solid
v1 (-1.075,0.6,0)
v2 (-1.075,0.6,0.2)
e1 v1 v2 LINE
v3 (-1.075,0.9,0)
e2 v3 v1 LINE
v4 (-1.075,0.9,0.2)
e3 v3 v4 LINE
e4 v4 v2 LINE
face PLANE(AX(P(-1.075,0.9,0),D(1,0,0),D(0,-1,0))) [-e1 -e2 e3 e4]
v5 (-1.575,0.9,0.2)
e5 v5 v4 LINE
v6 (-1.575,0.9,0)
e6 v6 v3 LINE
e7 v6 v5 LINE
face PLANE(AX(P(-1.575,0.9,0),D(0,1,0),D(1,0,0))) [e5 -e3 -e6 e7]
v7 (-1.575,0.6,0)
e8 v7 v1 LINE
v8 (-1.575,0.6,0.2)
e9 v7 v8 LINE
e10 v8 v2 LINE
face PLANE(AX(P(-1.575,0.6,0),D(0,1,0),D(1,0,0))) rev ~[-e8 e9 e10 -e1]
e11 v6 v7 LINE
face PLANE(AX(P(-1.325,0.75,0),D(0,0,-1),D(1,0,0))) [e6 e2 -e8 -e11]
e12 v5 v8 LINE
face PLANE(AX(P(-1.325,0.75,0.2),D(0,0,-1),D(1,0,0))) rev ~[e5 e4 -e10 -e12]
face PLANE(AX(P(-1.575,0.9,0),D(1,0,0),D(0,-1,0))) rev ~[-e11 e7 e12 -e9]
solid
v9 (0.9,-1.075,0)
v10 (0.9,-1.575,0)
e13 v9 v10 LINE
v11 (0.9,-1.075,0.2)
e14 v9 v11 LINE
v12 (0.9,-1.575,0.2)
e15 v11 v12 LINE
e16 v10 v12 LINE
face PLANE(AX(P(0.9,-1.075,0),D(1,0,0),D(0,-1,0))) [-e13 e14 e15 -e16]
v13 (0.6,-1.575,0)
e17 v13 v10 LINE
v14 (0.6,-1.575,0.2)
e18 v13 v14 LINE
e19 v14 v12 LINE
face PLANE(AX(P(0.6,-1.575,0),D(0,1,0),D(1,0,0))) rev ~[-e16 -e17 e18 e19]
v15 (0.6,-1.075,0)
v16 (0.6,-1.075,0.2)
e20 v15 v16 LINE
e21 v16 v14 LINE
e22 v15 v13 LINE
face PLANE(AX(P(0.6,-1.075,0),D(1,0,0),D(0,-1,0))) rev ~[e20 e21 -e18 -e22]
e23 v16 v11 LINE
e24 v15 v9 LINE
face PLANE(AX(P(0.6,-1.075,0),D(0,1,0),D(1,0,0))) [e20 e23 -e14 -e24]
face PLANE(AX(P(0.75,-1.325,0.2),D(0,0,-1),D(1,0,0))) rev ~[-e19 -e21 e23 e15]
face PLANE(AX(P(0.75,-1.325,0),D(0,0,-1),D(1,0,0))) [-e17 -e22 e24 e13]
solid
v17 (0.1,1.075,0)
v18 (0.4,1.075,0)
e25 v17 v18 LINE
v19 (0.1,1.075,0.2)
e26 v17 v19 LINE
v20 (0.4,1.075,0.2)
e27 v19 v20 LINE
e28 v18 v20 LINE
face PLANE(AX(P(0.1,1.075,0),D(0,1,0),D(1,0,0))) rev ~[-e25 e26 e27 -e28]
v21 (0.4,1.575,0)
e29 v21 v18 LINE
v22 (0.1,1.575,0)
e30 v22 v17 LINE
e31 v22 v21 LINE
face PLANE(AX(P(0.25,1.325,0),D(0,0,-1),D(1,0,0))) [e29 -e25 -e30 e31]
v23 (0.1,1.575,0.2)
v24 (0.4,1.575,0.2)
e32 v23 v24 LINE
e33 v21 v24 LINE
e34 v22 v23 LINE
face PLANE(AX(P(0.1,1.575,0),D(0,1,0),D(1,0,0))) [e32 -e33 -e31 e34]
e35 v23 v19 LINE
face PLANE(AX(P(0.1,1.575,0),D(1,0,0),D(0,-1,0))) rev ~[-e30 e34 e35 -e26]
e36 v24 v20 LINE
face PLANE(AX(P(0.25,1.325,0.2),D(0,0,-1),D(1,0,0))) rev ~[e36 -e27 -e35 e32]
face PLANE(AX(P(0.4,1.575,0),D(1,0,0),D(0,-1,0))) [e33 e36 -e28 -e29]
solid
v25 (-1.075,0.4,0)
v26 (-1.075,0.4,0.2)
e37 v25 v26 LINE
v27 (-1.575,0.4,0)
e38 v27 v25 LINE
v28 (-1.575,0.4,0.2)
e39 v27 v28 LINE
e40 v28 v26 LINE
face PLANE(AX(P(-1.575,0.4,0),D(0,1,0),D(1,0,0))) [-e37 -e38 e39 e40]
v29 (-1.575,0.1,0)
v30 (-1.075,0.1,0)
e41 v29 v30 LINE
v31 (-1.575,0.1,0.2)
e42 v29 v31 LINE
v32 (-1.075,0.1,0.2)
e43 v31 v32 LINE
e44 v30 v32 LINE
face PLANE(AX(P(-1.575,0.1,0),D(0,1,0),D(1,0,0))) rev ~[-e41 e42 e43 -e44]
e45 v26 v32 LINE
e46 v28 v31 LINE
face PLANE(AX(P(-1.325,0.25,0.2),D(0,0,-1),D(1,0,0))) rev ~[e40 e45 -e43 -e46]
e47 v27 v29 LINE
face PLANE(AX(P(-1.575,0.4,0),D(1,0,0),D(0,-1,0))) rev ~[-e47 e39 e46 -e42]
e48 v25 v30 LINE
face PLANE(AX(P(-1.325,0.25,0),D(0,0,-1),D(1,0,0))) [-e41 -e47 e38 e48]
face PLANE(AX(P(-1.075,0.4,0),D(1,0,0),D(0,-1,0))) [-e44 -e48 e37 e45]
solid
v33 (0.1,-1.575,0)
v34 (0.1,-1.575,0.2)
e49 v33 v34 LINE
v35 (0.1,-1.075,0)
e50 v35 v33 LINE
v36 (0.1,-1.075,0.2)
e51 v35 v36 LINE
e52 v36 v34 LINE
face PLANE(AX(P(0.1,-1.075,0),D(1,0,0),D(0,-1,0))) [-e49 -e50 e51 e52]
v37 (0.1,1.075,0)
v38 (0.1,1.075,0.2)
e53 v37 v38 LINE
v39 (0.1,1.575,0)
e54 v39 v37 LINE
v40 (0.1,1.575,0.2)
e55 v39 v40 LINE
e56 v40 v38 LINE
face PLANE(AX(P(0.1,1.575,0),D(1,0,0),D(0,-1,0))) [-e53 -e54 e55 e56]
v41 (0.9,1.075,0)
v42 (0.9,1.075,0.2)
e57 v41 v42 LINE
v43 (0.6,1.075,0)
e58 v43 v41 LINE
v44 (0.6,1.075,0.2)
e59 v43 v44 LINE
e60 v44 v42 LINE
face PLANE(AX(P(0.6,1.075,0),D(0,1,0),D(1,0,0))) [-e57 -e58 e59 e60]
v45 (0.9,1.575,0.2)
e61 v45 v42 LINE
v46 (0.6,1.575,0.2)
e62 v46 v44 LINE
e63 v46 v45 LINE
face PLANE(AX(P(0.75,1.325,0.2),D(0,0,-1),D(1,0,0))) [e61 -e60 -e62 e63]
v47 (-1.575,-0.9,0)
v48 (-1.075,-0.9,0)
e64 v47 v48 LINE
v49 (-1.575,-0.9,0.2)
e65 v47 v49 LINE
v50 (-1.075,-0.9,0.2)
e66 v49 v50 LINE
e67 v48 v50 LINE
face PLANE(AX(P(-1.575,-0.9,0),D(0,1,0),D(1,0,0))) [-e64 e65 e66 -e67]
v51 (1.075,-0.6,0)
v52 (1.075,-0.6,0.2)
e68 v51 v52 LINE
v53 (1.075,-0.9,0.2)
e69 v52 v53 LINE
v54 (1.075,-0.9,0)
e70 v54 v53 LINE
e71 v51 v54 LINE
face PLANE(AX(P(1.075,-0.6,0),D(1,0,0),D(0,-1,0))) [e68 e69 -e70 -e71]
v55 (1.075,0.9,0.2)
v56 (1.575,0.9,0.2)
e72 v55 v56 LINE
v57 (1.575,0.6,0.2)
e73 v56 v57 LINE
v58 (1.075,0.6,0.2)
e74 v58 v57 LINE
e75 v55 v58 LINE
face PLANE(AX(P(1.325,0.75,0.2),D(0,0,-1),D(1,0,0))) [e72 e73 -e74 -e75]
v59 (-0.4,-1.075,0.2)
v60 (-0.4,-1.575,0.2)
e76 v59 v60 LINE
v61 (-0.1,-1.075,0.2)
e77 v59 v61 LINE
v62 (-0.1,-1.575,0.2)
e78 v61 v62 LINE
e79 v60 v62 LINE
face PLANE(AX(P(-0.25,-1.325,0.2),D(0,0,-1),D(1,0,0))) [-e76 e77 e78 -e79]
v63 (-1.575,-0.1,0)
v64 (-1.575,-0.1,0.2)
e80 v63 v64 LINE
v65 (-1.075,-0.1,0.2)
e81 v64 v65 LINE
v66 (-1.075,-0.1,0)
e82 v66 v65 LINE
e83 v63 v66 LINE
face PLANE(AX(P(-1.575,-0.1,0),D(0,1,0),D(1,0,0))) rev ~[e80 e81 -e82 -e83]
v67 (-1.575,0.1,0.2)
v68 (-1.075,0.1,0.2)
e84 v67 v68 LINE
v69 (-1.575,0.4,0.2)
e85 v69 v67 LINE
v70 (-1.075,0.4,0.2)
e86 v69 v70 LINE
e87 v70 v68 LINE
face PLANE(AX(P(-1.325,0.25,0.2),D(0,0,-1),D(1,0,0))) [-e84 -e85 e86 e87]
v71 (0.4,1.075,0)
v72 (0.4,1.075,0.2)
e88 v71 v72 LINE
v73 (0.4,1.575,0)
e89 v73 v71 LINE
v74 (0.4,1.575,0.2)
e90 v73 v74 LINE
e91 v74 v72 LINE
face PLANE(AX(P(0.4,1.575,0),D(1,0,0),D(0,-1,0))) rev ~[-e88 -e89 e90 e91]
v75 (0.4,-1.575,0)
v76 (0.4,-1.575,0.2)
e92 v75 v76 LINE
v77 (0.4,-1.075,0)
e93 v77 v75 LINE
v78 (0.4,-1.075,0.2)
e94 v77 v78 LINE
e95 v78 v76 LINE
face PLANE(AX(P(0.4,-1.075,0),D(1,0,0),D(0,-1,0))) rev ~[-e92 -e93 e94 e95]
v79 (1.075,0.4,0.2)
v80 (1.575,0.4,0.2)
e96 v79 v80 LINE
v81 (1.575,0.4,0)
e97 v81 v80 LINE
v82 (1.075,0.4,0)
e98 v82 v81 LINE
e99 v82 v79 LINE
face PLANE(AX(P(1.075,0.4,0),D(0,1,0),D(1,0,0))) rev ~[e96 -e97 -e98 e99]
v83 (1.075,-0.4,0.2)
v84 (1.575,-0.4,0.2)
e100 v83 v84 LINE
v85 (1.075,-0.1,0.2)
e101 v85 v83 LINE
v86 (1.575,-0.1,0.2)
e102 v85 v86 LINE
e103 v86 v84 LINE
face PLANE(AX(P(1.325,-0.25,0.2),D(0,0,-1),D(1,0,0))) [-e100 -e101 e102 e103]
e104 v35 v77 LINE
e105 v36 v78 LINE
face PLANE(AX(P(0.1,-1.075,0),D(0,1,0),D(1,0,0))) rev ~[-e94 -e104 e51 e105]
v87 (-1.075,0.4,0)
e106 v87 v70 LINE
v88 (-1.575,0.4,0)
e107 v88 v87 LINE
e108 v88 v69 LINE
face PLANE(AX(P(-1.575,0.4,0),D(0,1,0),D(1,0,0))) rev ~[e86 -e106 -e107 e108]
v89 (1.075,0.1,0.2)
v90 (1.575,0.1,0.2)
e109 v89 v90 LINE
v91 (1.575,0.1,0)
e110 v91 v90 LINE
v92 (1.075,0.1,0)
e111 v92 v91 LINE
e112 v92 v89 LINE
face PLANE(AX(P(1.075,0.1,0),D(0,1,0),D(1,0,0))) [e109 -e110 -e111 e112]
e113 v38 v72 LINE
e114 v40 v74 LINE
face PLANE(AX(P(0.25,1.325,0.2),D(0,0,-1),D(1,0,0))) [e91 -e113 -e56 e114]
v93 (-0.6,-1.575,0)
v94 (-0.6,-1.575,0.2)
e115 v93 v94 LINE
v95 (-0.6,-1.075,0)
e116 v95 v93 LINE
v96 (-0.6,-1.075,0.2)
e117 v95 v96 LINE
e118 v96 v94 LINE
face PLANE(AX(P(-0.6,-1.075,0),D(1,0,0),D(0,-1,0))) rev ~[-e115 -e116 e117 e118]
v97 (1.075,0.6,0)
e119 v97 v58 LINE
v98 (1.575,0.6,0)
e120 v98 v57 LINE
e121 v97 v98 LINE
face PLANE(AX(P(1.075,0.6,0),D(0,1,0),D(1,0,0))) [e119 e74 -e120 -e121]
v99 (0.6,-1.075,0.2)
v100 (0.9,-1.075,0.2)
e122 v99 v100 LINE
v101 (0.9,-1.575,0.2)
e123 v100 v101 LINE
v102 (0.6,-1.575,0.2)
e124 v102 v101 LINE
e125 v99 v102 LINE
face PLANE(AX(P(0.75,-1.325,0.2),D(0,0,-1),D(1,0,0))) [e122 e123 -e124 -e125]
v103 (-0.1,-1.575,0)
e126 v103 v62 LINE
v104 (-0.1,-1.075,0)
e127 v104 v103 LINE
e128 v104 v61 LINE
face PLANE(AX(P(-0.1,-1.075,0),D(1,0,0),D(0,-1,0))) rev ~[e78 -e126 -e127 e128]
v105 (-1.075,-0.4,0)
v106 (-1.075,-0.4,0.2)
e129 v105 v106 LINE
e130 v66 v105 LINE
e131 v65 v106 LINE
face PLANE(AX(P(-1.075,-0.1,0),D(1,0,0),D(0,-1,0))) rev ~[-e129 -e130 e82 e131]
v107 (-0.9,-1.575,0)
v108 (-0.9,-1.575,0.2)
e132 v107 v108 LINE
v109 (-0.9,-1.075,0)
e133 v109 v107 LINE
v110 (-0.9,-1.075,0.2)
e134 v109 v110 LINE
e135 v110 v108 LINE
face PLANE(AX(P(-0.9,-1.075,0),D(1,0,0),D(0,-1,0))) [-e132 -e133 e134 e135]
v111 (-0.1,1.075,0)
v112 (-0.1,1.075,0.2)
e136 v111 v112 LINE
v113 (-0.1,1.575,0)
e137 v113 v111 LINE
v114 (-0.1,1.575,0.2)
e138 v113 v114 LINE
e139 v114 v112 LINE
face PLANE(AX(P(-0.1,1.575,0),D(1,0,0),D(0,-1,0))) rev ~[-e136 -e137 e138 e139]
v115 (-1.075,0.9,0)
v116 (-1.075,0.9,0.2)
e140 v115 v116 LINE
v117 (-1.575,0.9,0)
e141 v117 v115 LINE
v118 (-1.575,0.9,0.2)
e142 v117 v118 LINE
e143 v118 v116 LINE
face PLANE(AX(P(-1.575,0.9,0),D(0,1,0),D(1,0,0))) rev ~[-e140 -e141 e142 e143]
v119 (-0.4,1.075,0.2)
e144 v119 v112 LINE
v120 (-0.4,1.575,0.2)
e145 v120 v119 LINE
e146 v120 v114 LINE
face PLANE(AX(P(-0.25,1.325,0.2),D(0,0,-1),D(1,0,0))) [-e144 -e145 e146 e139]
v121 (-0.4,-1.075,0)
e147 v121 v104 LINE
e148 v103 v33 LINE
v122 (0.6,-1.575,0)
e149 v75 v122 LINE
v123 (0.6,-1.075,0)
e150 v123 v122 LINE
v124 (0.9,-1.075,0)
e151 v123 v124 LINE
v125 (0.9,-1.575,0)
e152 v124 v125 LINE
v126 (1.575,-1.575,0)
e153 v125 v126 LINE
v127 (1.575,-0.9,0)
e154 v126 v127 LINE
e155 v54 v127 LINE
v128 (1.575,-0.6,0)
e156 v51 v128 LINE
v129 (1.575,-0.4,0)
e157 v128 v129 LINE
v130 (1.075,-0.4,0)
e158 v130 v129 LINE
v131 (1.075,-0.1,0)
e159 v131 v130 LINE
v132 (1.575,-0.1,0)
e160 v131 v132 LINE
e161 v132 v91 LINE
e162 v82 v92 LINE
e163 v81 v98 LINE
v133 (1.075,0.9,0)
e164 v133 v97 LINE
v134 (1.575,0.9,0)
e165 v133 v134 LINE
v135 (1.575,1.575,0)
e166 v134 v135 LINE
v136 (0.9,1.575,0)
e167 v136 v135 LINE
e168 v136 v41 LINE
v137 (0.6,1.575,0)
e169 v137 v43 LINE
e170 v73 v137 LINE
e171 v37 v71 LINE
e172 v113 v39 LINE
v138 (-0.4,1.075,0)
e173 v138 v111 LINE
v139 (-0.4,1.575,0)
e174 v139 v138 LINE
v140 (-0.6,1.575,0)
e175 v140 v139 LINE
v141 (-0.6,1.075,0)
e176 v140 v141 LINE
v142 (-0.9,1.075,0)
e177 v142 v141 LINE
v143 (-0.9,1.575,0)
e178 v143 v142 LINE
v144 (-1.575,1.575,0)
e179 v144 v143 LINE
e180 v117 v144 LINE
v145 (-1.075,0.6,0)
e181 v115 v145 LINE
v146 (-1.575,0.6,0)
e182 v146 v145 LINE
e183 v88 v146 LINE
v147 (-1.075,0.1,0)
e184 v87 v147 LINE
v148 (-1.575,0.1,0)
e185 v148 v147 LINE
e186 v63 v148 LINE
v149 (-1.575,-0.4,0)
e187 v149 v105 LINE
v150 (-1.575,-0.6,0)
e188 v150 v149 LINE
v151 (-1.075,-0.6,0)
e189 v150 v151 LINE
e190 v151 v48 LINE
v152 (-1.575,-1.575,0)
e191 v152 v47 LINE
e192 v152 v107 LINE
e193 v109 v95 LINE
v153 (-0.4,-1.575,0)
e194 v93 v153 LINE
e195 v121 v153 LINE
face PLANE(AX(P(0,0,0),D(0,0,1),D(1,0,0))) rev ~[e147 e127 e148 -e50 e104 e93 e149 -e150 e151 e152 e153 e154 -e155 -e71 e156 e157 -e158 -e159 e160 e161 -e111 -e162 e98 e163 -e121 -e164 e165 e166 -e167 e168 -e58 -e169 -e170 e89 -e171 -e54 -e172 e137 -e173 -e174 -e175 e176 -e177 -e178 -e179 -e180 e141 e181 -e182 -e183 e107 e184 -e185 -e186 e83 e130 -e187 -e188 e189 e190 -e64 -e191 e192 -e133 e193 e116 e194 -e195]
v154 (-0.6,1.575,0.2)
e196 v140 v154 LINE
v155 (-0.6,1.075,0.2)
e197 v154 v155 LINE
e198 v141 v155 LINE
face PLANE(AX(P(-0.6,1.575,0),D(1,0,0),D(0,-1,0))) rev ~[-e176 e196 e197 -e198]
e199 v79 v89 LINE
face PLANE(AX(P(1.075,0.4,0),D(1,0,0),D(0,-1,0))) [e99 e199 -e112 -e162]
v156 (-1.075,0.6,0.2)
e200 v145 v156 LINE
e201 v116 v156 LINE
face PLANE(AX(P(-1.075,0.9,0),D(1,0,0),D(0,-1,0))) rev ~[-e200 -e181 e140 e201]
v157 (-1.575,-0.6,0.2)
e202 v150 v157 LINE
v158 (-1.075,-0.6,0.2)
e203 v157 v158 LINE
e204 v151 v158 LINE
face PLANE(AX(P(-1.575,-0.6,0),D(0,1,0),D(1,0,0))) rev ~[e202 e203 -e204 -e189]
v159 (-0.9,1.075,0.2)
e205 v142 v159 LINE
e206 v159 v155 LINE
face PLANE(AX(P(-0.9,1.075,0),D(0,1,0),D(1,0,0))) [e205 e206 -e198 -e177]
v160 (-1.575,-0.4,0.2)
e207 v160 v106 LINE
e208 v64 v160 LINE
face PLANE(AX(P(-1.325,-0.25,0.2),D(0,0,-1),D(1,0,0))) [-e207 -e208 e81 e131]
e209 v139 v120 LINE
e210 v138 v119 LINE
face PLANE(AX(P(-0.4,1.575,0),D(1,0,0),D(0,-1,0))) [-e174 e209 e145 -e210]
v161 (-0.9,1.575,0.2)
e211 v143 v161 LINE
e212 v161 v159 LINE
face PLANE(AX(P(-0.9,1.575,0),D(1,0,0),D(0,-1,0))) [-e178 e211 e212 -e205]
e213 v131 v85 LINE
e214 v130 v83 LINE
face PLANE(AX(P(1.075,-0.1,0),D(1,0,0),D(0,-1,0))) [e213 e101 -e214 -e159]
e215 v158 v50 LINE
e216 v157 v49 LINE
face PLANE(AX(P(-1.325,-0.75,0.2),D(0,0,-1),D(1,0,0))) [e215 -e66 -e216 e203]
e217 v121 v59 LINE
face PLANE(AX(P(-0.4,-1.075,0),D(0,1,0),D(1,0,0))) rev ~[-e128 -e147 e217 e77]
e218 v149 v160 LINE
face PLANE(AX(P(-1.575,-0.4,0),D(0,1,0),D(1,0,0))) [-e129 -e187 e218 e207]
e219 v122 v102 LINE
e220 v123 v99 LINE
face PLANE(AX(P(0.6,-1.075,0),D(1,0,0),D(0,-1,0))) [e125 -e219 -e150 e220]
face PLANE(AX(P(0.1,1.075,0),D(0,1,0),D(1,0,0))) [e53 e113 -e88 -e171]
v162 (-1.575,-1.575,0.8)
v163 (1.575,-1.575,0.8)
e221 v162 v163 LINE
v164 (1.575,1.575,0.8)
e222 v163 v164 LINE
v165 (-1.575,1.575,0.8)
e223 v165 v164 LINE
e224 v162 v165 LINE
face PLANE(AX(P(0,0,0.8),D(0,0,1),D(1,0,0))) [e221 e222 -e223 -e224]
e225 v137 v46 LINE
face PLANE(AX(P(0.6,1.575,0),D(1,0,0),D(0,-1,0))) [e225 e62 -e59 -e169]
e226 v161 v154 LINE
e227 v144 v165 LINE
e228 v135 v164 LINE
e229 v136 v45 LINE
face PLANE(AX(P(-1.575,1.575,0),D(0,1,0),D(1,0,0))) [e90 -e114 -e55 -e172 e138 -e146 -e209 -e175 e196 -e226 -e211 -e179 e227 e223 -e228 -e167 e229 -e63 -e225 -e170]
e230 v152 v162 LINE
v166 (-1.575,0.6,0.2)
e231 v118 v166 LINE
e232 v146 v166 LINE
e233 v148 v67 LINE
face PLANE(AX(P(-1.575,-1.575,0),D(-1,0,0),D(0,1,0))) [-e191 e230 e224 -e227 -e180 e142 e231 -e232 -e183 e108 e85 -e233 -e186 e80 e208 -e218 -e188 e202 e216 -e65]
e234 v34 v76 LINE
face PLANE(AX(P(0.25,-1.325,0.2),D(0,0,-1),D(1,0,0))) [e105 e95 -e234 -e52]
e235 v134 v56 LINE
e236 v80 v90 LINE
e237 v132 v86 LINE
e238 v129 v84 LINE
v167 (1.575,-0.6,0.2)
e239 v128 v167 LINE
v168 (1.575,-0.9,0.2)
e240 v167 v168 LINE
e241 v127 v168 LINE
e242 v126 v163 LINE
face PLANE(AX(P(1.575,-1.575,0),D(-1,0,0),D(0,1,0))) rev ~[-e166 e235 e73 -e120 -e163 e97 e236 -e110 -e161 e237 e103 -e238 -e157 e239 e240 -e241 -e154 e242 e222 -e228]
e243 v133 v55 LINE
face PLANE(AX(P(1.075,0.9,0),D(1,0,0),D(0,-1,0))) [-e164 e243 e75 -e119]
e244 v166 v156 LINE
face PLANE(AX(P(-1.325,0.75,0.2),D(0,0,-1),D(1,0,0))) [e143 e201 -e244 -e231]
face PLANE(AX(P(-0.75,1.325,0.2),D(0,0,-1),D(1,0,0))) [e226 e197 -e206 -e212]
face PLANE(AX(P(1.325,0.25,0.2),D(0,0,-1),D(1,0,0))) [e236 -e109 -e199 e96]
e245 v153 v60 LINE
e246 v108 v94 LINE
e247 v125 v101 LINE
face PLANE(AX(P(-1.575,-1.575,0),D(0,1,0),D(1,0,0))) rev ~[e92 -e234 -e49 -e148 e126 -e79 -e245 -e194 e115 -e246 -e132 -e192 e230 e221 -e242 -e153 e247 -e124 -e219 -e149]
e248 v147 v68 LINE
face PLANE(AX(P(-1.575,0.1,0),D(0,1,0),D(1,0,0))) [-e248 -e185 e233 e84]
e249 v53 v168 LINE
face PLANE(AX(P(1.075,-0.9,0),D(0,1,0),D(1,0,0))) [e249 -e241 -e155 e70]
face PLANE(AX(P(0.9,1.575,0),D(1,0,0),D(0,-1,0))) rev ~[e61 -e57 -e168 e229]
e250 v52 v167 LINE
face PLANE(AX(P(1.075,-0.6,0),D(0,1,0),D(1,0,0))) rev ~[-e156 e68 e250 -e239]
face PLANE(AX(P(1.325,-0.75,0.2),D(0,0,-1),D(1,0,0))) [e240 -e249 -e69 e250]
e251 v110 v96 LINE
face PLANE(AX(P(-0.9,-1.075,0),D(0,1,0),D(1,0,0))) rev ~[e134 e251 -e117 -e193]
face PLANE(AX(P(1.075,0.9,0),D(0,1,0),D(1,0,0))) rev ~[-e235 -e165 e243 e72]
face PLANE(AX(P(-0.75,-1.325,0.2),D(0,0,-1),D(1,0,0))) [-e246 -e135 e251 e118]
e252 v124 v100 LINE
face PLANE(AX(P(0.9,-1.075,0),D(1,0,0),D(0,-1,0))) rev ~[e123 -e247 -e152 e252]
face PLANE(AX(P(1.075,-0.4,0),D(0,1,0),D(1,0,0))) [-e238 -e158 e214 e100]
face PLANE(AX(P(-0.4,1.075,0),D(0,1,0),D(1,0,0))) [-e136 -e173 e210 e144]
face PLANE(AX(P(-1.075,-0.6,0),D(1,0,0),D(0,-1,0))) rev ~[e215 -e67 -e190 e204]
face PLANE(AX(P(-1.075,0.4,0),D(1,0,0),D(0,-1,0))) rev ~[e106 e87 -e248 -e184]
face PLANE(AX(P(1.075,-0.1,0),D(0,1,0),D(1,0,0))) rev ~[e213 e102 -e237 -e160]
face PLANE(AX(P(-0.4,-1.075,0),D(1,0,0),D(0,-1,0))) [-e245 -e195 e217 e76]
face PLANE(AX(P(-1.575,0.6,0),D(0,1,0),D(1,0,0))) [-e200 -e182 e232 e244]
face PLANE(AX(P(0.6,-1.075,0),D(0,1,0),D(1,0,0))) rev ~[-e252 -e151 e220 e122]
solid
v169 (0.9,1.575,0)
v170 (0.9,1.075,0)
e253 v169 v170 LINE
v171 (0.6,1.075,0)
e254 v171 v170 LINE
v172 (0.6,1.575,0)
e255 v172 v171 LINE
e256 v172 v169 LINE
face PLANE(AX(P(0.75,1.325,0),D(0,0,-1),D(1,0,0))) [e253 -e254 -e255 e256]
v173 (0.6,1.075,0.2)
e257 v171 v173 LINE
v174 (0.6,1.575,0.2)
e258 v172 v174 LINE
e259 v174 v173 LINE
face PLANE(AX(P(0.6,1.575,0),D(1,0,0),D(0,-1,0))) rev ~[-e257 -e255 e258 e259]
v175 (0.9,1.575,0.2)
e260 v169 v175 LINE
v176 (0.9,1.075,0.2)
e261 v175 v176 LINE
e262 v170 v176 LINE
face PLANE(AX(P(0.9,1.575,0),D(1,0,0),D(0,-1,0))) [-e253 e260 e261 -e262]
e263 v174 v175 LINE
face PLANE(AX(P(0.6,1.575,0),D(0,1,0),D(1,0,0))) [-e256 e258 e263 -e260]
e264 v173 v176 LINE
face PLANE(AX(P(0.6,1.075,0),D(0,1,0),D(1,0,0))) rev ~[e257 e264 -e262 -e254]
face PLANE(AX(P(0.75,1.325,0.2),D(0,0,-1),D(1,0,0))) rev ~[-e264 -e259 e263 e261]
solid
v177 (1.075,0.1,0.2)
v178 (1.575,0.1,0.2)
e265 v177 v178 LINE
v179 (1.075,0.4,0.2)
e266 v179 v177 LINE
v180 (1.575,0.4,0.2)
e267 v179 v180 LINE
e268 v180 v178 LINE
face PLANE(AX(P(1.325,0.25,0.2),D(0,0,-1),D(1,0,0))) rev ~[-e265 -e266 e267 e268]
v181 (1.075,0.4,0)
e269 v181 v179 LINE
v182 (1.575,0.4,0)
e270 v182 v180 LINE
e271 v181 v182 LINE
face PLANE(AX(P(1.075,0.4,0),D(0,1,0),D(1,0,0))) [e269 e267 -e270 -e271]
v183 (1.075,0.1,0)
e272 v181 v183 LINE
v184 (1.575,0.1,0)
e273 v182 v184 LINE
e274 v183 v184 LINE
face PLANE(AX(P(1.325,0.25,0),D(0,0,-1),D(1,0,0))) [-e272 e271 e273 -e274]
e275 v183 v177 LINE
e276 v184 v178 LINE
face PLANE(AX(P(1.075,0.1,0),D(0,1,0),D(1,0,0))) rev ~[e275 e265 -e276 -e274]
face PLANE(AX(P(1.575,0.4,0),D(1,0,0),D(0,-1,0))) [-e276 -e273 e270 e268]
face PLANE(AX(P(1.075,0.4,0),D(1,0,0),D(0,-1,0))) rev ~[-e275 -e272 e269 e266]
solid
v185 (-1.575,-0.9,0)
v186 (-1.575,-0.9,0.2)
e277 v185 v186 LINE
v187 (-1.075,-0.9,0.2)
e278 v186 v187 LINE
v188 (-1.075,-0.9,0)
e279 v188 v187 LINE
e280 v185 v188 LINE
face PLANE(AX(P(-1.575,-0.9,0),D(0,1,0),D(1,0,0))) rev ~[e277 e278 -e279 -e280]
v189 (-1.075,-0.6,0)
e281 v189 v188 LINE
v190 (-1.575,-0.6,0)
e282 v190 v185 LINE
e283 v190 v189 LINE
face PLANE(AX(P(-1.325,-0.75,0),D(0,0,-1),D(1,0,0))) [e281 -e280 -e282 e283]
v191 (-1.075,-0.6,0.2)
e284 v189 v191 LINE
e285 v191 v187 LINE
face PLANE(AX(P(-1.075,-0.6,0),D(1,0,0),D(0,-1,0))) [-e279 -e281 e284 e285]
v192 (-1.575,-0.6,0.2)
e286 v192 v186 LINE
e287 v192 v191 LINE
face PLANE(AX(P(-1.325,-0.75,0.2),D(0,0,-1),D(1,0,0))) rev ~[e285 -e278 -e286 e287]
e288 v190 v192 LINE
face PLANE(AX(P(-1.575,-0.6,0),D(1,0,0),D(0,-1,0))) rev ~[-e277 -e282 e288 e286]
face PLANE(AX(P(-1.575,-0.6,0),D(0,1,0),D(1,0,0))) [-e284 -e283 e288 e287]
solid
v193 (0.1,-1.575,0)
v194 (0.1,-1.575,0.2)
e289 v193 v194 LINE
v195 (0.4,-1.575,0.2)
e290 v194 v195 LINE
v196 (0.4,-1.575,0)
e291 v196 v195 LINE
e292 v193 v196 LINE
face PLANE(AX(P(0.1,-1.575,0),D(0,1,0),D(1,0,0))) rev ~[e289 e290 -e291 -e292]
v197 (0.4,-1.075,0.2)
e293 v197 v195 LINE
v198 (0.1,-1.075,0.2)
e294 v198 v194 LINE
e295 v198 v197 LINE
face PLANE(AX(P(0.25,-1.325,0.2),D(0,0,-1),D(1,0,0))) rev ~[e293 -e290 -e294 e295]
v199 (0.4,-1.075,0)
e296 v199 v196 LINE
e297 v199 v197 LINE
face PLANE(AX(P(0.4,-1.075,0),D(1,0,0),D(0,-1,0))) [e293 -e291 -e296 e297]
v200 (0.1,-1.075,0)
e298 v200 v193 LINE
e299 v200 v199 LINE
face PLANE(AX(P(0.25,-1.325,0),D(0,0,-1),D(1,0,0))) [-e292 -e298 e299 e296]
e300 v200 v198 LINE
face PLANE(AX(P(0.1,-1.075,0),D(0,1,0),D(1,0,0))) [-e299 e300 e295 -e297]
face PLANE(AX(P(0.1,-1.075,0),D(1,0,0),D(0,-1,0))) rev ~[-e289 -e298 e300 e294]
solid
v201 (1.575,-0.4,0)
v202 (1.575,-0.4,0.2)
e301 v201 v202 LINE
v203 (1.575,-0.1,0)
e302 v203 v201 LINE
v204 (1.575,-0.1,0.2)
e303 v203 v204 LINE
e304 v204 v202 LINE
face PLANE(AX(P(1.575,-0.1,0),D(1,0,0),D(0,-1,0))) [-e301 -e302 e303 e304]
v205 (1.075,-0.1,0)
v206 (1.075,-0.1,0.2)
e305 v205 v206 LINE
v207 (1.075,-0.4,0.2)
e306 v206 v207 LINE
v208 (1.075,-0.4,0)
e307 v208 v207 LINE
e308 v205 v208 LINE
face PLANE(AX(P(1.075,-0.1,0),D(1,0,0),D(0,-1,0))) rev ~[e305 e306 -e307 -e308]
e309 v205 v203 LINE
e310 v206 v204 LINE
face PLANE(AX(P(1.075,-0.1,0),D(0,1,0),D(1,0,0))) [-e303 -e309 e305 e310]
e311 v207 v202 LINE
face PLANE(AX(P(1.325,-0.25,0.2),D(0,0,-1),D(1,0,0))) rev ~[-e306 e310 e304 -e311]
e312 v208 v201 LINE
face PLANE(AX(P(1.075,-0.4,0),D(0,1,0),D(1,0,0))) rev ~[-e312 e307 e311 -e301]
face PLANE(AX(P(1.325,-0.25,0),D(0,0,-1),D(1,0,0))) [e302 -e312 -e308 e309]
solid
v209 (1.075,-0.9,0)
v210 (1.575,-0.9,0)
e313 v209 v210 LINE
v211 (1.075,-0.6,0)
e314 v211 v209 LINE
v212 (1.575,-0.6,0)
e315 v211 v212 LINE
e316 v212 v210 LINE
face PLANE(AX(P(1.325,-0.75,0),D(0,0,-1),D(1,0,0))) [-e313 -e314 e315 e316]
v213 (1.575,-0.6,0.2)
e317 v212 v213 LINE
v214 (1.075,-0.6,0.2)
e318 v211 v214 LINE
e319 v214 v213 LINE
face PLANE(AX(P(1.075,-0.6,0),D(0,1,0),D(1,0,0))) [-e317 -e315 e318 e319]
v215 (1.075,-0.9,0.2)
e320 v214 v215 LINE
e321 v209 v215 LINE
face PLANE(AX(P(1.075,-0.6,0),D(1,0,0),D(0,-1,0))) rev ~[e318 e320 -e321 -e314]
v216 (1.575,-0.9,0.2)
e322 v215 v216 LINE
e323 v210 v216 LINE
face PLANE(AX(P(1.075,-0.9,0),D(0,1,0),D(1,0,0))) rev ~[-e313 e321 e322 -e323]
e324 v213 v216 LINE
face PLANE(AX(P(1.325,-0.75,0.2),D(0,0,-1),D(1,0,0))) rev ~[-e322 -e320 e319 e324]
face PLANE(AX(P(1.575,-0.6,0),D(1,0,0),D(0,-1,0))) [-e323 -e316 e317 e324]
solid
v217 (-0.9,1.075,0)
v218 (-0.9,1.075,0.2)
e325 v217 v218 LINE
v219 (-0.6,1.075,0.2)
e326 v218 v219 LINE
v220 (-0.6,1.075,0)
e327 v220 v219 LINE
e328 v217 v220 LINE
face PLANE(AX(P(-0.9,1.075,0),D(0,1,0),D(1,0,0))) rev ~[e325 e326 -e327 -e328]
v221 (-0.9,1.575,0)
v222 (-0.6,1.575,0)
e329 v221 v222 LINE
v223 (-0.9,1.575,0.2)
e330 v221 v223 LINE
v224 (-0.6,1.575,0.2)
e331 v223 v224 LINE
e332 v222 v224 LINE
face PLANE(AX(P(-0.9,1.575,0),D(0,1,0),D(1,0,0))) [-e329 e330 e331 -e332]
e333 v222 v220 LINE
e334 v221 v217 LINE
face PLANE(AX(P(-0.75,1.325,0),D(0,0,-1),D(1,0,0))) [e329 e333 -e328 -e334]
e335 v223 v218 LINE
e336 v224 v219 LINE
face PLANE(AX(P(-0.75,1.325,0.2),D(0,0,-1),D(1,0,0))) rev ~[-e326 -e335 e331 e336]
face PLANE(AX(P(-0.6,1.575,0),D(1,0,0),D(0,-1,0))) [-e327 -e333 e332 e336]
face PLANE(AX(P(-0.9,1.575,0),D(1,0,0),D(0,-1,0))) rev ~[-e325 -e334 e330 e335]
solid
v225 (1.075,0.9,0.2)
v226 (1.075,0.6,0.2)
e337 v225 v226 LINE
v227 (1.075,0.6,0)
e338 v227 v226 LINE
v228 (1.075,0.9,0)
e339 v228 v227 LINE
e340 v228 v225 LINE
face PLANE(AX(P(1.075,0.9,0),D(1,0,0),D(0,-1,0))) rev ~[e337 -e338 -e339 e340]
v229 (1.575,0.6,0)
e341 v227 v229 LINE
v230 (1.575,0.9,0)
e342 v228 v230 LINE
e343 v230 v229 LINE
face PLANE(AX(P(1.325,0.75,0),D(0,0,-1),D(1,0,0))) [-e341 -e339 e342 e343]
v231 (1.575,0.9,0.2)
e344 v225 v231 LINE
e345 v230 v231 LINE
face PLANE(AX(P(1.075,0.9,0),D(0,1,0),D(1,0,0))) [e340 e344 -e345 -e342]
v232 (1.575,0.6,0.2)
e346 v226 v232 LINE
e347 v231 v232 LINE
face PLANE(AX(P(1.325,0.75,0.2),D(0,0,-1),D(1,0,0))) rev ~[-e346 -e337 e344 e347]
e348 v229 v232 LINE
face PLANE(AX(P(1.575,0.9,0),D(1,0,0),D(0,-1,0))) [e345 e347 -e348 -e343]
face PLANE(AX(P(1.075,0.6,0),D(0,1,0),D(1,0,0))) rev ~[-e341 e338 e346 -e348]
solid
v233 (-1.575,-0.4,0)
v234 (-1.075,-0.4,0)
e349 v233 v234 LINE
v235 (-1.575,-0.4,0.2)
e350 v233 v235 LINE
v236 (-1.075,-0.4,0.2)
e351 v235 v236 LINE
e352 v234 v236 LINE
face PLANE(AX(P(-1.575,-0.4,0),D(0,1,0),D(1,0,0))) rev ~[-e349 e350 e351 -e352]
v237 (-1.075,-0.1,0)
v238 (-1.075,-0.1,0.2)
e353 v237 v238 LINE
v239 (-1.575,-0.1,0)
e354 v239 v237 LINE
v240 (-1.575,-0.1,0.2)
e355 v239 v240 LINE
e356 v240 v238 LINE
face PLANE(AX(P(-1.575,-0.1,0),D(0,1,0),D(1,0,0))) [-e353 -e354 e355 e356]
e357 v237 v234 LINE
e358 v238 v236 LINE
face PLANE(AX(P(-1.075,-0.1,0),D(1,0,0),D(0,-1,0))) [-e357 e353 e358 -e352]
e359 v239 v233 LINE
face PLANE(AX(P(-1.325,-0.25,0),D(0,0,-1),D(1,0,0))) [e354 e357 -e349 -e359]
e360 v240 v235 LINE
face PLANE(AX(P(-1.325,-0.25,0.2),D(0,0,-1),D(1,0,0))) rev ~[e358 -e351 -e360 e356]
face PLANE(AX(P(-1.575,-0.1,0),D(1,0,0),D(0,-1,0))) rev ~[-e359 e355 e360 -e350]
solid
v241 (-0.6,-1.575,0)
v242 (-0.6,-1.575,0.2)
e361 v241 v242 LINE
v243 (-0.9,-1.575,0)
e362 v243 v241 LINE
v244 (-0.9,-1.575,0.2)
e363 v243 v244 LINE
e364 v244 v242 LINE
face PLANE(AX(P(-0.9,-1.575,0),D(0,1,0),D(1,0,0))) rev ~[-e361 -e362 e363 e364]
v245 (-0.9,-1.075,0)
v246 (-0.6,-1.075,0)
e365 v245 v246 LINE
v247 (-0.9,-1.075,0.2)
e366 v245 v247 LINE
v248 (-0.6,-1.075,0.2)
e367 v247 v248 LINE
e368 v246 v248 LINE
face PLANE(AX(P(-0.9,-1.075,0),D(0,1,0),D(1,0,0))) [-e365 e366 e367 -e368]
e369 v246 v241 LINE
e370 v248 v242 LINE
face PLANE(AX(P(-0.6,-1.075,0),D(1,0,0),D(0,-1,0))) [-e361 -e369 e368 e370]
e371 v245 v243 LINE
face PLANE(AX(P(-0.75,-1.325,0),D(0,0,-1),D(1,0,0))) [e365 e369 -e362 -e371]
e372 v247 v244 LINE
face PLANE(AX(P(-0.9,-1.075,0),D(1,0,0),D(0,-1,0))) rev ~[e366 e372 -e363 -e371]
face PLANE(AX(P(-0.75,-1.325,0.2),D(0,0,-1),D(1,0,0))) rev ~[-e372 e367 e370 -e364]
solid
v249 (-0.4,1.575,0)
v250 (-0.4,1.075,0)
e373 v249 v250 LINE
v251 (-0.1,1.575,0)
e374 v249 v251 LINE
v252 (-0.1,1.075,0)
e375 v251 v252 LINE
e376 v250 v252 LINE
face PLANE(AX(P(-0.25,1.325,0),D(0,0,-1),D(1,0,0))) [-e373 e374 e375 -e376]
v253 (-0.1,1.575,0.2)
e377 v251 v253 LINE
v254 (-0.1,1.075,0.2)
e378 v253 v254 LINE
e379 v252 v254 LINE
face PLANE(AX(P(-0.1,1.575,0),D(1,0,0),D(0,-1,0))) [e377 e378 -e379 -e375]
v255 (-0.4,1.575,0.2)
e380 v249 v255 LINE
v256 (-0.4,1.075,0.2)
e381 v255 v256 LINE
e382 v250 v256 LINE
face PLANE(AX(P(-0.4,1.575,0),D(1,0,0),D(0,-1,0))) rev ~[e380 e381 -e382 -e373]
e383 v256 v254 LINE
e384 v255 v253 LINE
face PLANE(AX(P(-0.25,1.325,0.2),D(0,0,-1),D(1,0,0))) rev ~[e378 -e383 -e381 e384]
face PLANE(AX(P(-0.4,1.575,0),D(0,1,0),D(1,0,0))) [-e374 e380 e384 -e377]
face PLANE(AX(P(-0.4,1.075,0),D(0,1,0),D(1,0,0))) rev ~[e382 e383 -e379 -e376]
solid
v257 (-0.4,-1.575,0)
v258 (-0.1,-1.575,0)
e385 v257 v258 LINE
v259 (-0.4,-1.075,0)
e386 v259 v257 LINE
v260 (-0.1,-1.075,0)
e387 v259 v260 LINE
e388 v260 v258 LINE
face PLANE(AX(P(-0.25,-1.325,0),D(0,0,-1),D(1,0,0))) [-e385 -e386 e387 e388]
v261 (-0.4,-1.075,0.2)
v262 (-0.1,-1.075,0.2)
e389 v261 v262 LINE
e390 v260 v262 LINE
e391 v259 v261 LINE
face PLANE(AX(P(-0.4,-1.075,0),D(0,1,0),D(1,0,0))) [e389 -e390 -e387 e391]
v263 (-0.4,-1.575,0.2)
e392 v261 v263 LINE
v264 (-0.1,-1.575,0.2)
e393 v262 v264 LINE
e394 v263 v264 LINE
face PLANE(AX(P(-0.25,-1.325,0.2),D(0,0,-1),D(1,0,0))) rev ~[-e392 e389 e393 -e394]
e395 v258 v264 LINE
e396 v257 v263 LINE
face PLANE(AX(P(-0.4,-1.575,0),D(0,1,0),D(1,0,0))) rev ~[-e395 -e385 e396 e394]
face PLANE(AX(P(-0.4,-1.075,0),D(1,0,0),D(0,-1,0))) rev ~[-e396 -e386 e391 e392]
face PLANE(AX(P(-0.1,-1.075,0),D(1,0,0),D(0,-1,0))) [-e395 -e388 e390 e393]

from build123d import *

# Parameters (mm, degrees)
F0_W     = 3.15
F0_H     = 3.15
F1_DEPTH = 0.8
F2_W     = 0.3
F2_H     = 0.5
F2_W_2   = 0.5
F2_H_2   = 0.3
F3_DEPTH = 0.2
F4_DEPTH = 0.2


with BuildPart() as f1:
    # F0 (on Top) → F1 (new body)
    with BuildSketch(Plane.XY):
        Rectangle(F0_W, F0_H)
    extrude(amount=F1_DEPTH)

    # F2 (on face) → F3 (cut)
    with BuildSketch(Plane(origin=(0, 0, 0), x_dir=(1, 0, 0), z_dir=(0, 0, -1))):
        with Locations((0.25, 1.325)):
            Rectangle(F2_W, F2_H)
        with Locations((0.75, 1.325)):
            Rectangle(F2_W, F2_H)
        with Locations((-0.25, 1.325)):
            Rectangle(F2_W, F2_H)
        with Locations((-0.75, 1.325)):
            Rectangle(F2_W, F2_H)
        with Locations((-1.325, 0.25)):
            Rectangle(F2_W_2, F2_H_2)
        with Locations((-1.325, 0.75)):
            Rectangle(F2_W_2, F2_H_2)
        with Locations((-1.325, -0.75)):
            Rectangle(F2_W_2, F2_H_2)
        with Locations((-1.325, -0.25)):
            Rectangle(F2_W_2, F2_H_2)
        with Locations((-0.25, -1.325)):
            Rectangle(F2_W, F2_H)
        with Locations((-0.75, -1.325)):
            Rectangle(F2_W, F2_H)
        with Locations((0.75, -1.325)):
            Rectangle(F2_W, F2_H)
        with Locations((0.25, -1.325)):
            Rectangle(F2_W, F2_H)
        with Locations((1.325, -0.25)):
            Rectangle(F2_W_2, F2_H_2)
        with Locations((1.325, -0.75)):
            Rectangle(F2_W_2, F2_H_2)
        with Locations((1.325, 0.75)):
            Rectangle(F2_W_2, F2_H_2)
        with Locations((1.325, 0.25)):
            Rectangle(F2_W_2, F2_H_2)
    extrude(amount=-F3_DEPTH, mode=Mode.SUBTRACT)


with BuildPart() as f4:
    # F2 (on face) → F4 (new body)
    with BuildSketch(Plane(origin=(0, 0, 0), x_dir=(1, 0, 0), z_dir=(0, 0, -1))):
        with Locations((0.25, 1.325)):
            Rectangle(F2_W, F2_H)
        with Locations((0.75, 1.325)):
            Rectangle(F2_W, F2_H)
        with Locations((-0.25, 1.325)):
            Rectangle(F2_W, F2_H)
        with Locations((-0.75, 1.325)):
            Rectangle(F2_W, F2_H)
        with Locations((-1.325, 0.25)):
            Rectangle(F2_W_2, F2_H_2)
        with Locations((-1.325, 0.75)):
            Rectangle(F2_W_2, F2_H_2)
        with Locations((-1.325, -0.75)):
            Rectangle(F2_W_2, F2_H_2)
        with Locations((-1.325, -0.25)):
            Rectangle(F2_W_2, F2_H_2)
        with Locations((-0.25, -1.325)):
            Rectangle(F2_W, F2_H)
        with Locations((-0.75, -1.325)):
            Rectangle(F2_W, F2_H)
        with Locations((0.75, -1.325)):
            Rectangle(F2_W, F2_H)
        with Locations((0.25, -1.325)):
            Rectangle(F2_W, F2_H)
        with Locations((1.325, -0.25)):
            Rectangle(F2_W_2, F2_H_2)
        with Locations((1.325, -0.75)):
            Rectangle(F2_W_2, F2_H_2)
        with Locations((1.325, 0.75)):
            Rectangle(F2_W_2, F2_H_2)
        with Locations((1.325, 0.25)):
            Rectangle(F2_W_2, F2_H_2)
    extrude(amount=-F4_DEPTH)


solid = Compound([f1.part, f4.part])
